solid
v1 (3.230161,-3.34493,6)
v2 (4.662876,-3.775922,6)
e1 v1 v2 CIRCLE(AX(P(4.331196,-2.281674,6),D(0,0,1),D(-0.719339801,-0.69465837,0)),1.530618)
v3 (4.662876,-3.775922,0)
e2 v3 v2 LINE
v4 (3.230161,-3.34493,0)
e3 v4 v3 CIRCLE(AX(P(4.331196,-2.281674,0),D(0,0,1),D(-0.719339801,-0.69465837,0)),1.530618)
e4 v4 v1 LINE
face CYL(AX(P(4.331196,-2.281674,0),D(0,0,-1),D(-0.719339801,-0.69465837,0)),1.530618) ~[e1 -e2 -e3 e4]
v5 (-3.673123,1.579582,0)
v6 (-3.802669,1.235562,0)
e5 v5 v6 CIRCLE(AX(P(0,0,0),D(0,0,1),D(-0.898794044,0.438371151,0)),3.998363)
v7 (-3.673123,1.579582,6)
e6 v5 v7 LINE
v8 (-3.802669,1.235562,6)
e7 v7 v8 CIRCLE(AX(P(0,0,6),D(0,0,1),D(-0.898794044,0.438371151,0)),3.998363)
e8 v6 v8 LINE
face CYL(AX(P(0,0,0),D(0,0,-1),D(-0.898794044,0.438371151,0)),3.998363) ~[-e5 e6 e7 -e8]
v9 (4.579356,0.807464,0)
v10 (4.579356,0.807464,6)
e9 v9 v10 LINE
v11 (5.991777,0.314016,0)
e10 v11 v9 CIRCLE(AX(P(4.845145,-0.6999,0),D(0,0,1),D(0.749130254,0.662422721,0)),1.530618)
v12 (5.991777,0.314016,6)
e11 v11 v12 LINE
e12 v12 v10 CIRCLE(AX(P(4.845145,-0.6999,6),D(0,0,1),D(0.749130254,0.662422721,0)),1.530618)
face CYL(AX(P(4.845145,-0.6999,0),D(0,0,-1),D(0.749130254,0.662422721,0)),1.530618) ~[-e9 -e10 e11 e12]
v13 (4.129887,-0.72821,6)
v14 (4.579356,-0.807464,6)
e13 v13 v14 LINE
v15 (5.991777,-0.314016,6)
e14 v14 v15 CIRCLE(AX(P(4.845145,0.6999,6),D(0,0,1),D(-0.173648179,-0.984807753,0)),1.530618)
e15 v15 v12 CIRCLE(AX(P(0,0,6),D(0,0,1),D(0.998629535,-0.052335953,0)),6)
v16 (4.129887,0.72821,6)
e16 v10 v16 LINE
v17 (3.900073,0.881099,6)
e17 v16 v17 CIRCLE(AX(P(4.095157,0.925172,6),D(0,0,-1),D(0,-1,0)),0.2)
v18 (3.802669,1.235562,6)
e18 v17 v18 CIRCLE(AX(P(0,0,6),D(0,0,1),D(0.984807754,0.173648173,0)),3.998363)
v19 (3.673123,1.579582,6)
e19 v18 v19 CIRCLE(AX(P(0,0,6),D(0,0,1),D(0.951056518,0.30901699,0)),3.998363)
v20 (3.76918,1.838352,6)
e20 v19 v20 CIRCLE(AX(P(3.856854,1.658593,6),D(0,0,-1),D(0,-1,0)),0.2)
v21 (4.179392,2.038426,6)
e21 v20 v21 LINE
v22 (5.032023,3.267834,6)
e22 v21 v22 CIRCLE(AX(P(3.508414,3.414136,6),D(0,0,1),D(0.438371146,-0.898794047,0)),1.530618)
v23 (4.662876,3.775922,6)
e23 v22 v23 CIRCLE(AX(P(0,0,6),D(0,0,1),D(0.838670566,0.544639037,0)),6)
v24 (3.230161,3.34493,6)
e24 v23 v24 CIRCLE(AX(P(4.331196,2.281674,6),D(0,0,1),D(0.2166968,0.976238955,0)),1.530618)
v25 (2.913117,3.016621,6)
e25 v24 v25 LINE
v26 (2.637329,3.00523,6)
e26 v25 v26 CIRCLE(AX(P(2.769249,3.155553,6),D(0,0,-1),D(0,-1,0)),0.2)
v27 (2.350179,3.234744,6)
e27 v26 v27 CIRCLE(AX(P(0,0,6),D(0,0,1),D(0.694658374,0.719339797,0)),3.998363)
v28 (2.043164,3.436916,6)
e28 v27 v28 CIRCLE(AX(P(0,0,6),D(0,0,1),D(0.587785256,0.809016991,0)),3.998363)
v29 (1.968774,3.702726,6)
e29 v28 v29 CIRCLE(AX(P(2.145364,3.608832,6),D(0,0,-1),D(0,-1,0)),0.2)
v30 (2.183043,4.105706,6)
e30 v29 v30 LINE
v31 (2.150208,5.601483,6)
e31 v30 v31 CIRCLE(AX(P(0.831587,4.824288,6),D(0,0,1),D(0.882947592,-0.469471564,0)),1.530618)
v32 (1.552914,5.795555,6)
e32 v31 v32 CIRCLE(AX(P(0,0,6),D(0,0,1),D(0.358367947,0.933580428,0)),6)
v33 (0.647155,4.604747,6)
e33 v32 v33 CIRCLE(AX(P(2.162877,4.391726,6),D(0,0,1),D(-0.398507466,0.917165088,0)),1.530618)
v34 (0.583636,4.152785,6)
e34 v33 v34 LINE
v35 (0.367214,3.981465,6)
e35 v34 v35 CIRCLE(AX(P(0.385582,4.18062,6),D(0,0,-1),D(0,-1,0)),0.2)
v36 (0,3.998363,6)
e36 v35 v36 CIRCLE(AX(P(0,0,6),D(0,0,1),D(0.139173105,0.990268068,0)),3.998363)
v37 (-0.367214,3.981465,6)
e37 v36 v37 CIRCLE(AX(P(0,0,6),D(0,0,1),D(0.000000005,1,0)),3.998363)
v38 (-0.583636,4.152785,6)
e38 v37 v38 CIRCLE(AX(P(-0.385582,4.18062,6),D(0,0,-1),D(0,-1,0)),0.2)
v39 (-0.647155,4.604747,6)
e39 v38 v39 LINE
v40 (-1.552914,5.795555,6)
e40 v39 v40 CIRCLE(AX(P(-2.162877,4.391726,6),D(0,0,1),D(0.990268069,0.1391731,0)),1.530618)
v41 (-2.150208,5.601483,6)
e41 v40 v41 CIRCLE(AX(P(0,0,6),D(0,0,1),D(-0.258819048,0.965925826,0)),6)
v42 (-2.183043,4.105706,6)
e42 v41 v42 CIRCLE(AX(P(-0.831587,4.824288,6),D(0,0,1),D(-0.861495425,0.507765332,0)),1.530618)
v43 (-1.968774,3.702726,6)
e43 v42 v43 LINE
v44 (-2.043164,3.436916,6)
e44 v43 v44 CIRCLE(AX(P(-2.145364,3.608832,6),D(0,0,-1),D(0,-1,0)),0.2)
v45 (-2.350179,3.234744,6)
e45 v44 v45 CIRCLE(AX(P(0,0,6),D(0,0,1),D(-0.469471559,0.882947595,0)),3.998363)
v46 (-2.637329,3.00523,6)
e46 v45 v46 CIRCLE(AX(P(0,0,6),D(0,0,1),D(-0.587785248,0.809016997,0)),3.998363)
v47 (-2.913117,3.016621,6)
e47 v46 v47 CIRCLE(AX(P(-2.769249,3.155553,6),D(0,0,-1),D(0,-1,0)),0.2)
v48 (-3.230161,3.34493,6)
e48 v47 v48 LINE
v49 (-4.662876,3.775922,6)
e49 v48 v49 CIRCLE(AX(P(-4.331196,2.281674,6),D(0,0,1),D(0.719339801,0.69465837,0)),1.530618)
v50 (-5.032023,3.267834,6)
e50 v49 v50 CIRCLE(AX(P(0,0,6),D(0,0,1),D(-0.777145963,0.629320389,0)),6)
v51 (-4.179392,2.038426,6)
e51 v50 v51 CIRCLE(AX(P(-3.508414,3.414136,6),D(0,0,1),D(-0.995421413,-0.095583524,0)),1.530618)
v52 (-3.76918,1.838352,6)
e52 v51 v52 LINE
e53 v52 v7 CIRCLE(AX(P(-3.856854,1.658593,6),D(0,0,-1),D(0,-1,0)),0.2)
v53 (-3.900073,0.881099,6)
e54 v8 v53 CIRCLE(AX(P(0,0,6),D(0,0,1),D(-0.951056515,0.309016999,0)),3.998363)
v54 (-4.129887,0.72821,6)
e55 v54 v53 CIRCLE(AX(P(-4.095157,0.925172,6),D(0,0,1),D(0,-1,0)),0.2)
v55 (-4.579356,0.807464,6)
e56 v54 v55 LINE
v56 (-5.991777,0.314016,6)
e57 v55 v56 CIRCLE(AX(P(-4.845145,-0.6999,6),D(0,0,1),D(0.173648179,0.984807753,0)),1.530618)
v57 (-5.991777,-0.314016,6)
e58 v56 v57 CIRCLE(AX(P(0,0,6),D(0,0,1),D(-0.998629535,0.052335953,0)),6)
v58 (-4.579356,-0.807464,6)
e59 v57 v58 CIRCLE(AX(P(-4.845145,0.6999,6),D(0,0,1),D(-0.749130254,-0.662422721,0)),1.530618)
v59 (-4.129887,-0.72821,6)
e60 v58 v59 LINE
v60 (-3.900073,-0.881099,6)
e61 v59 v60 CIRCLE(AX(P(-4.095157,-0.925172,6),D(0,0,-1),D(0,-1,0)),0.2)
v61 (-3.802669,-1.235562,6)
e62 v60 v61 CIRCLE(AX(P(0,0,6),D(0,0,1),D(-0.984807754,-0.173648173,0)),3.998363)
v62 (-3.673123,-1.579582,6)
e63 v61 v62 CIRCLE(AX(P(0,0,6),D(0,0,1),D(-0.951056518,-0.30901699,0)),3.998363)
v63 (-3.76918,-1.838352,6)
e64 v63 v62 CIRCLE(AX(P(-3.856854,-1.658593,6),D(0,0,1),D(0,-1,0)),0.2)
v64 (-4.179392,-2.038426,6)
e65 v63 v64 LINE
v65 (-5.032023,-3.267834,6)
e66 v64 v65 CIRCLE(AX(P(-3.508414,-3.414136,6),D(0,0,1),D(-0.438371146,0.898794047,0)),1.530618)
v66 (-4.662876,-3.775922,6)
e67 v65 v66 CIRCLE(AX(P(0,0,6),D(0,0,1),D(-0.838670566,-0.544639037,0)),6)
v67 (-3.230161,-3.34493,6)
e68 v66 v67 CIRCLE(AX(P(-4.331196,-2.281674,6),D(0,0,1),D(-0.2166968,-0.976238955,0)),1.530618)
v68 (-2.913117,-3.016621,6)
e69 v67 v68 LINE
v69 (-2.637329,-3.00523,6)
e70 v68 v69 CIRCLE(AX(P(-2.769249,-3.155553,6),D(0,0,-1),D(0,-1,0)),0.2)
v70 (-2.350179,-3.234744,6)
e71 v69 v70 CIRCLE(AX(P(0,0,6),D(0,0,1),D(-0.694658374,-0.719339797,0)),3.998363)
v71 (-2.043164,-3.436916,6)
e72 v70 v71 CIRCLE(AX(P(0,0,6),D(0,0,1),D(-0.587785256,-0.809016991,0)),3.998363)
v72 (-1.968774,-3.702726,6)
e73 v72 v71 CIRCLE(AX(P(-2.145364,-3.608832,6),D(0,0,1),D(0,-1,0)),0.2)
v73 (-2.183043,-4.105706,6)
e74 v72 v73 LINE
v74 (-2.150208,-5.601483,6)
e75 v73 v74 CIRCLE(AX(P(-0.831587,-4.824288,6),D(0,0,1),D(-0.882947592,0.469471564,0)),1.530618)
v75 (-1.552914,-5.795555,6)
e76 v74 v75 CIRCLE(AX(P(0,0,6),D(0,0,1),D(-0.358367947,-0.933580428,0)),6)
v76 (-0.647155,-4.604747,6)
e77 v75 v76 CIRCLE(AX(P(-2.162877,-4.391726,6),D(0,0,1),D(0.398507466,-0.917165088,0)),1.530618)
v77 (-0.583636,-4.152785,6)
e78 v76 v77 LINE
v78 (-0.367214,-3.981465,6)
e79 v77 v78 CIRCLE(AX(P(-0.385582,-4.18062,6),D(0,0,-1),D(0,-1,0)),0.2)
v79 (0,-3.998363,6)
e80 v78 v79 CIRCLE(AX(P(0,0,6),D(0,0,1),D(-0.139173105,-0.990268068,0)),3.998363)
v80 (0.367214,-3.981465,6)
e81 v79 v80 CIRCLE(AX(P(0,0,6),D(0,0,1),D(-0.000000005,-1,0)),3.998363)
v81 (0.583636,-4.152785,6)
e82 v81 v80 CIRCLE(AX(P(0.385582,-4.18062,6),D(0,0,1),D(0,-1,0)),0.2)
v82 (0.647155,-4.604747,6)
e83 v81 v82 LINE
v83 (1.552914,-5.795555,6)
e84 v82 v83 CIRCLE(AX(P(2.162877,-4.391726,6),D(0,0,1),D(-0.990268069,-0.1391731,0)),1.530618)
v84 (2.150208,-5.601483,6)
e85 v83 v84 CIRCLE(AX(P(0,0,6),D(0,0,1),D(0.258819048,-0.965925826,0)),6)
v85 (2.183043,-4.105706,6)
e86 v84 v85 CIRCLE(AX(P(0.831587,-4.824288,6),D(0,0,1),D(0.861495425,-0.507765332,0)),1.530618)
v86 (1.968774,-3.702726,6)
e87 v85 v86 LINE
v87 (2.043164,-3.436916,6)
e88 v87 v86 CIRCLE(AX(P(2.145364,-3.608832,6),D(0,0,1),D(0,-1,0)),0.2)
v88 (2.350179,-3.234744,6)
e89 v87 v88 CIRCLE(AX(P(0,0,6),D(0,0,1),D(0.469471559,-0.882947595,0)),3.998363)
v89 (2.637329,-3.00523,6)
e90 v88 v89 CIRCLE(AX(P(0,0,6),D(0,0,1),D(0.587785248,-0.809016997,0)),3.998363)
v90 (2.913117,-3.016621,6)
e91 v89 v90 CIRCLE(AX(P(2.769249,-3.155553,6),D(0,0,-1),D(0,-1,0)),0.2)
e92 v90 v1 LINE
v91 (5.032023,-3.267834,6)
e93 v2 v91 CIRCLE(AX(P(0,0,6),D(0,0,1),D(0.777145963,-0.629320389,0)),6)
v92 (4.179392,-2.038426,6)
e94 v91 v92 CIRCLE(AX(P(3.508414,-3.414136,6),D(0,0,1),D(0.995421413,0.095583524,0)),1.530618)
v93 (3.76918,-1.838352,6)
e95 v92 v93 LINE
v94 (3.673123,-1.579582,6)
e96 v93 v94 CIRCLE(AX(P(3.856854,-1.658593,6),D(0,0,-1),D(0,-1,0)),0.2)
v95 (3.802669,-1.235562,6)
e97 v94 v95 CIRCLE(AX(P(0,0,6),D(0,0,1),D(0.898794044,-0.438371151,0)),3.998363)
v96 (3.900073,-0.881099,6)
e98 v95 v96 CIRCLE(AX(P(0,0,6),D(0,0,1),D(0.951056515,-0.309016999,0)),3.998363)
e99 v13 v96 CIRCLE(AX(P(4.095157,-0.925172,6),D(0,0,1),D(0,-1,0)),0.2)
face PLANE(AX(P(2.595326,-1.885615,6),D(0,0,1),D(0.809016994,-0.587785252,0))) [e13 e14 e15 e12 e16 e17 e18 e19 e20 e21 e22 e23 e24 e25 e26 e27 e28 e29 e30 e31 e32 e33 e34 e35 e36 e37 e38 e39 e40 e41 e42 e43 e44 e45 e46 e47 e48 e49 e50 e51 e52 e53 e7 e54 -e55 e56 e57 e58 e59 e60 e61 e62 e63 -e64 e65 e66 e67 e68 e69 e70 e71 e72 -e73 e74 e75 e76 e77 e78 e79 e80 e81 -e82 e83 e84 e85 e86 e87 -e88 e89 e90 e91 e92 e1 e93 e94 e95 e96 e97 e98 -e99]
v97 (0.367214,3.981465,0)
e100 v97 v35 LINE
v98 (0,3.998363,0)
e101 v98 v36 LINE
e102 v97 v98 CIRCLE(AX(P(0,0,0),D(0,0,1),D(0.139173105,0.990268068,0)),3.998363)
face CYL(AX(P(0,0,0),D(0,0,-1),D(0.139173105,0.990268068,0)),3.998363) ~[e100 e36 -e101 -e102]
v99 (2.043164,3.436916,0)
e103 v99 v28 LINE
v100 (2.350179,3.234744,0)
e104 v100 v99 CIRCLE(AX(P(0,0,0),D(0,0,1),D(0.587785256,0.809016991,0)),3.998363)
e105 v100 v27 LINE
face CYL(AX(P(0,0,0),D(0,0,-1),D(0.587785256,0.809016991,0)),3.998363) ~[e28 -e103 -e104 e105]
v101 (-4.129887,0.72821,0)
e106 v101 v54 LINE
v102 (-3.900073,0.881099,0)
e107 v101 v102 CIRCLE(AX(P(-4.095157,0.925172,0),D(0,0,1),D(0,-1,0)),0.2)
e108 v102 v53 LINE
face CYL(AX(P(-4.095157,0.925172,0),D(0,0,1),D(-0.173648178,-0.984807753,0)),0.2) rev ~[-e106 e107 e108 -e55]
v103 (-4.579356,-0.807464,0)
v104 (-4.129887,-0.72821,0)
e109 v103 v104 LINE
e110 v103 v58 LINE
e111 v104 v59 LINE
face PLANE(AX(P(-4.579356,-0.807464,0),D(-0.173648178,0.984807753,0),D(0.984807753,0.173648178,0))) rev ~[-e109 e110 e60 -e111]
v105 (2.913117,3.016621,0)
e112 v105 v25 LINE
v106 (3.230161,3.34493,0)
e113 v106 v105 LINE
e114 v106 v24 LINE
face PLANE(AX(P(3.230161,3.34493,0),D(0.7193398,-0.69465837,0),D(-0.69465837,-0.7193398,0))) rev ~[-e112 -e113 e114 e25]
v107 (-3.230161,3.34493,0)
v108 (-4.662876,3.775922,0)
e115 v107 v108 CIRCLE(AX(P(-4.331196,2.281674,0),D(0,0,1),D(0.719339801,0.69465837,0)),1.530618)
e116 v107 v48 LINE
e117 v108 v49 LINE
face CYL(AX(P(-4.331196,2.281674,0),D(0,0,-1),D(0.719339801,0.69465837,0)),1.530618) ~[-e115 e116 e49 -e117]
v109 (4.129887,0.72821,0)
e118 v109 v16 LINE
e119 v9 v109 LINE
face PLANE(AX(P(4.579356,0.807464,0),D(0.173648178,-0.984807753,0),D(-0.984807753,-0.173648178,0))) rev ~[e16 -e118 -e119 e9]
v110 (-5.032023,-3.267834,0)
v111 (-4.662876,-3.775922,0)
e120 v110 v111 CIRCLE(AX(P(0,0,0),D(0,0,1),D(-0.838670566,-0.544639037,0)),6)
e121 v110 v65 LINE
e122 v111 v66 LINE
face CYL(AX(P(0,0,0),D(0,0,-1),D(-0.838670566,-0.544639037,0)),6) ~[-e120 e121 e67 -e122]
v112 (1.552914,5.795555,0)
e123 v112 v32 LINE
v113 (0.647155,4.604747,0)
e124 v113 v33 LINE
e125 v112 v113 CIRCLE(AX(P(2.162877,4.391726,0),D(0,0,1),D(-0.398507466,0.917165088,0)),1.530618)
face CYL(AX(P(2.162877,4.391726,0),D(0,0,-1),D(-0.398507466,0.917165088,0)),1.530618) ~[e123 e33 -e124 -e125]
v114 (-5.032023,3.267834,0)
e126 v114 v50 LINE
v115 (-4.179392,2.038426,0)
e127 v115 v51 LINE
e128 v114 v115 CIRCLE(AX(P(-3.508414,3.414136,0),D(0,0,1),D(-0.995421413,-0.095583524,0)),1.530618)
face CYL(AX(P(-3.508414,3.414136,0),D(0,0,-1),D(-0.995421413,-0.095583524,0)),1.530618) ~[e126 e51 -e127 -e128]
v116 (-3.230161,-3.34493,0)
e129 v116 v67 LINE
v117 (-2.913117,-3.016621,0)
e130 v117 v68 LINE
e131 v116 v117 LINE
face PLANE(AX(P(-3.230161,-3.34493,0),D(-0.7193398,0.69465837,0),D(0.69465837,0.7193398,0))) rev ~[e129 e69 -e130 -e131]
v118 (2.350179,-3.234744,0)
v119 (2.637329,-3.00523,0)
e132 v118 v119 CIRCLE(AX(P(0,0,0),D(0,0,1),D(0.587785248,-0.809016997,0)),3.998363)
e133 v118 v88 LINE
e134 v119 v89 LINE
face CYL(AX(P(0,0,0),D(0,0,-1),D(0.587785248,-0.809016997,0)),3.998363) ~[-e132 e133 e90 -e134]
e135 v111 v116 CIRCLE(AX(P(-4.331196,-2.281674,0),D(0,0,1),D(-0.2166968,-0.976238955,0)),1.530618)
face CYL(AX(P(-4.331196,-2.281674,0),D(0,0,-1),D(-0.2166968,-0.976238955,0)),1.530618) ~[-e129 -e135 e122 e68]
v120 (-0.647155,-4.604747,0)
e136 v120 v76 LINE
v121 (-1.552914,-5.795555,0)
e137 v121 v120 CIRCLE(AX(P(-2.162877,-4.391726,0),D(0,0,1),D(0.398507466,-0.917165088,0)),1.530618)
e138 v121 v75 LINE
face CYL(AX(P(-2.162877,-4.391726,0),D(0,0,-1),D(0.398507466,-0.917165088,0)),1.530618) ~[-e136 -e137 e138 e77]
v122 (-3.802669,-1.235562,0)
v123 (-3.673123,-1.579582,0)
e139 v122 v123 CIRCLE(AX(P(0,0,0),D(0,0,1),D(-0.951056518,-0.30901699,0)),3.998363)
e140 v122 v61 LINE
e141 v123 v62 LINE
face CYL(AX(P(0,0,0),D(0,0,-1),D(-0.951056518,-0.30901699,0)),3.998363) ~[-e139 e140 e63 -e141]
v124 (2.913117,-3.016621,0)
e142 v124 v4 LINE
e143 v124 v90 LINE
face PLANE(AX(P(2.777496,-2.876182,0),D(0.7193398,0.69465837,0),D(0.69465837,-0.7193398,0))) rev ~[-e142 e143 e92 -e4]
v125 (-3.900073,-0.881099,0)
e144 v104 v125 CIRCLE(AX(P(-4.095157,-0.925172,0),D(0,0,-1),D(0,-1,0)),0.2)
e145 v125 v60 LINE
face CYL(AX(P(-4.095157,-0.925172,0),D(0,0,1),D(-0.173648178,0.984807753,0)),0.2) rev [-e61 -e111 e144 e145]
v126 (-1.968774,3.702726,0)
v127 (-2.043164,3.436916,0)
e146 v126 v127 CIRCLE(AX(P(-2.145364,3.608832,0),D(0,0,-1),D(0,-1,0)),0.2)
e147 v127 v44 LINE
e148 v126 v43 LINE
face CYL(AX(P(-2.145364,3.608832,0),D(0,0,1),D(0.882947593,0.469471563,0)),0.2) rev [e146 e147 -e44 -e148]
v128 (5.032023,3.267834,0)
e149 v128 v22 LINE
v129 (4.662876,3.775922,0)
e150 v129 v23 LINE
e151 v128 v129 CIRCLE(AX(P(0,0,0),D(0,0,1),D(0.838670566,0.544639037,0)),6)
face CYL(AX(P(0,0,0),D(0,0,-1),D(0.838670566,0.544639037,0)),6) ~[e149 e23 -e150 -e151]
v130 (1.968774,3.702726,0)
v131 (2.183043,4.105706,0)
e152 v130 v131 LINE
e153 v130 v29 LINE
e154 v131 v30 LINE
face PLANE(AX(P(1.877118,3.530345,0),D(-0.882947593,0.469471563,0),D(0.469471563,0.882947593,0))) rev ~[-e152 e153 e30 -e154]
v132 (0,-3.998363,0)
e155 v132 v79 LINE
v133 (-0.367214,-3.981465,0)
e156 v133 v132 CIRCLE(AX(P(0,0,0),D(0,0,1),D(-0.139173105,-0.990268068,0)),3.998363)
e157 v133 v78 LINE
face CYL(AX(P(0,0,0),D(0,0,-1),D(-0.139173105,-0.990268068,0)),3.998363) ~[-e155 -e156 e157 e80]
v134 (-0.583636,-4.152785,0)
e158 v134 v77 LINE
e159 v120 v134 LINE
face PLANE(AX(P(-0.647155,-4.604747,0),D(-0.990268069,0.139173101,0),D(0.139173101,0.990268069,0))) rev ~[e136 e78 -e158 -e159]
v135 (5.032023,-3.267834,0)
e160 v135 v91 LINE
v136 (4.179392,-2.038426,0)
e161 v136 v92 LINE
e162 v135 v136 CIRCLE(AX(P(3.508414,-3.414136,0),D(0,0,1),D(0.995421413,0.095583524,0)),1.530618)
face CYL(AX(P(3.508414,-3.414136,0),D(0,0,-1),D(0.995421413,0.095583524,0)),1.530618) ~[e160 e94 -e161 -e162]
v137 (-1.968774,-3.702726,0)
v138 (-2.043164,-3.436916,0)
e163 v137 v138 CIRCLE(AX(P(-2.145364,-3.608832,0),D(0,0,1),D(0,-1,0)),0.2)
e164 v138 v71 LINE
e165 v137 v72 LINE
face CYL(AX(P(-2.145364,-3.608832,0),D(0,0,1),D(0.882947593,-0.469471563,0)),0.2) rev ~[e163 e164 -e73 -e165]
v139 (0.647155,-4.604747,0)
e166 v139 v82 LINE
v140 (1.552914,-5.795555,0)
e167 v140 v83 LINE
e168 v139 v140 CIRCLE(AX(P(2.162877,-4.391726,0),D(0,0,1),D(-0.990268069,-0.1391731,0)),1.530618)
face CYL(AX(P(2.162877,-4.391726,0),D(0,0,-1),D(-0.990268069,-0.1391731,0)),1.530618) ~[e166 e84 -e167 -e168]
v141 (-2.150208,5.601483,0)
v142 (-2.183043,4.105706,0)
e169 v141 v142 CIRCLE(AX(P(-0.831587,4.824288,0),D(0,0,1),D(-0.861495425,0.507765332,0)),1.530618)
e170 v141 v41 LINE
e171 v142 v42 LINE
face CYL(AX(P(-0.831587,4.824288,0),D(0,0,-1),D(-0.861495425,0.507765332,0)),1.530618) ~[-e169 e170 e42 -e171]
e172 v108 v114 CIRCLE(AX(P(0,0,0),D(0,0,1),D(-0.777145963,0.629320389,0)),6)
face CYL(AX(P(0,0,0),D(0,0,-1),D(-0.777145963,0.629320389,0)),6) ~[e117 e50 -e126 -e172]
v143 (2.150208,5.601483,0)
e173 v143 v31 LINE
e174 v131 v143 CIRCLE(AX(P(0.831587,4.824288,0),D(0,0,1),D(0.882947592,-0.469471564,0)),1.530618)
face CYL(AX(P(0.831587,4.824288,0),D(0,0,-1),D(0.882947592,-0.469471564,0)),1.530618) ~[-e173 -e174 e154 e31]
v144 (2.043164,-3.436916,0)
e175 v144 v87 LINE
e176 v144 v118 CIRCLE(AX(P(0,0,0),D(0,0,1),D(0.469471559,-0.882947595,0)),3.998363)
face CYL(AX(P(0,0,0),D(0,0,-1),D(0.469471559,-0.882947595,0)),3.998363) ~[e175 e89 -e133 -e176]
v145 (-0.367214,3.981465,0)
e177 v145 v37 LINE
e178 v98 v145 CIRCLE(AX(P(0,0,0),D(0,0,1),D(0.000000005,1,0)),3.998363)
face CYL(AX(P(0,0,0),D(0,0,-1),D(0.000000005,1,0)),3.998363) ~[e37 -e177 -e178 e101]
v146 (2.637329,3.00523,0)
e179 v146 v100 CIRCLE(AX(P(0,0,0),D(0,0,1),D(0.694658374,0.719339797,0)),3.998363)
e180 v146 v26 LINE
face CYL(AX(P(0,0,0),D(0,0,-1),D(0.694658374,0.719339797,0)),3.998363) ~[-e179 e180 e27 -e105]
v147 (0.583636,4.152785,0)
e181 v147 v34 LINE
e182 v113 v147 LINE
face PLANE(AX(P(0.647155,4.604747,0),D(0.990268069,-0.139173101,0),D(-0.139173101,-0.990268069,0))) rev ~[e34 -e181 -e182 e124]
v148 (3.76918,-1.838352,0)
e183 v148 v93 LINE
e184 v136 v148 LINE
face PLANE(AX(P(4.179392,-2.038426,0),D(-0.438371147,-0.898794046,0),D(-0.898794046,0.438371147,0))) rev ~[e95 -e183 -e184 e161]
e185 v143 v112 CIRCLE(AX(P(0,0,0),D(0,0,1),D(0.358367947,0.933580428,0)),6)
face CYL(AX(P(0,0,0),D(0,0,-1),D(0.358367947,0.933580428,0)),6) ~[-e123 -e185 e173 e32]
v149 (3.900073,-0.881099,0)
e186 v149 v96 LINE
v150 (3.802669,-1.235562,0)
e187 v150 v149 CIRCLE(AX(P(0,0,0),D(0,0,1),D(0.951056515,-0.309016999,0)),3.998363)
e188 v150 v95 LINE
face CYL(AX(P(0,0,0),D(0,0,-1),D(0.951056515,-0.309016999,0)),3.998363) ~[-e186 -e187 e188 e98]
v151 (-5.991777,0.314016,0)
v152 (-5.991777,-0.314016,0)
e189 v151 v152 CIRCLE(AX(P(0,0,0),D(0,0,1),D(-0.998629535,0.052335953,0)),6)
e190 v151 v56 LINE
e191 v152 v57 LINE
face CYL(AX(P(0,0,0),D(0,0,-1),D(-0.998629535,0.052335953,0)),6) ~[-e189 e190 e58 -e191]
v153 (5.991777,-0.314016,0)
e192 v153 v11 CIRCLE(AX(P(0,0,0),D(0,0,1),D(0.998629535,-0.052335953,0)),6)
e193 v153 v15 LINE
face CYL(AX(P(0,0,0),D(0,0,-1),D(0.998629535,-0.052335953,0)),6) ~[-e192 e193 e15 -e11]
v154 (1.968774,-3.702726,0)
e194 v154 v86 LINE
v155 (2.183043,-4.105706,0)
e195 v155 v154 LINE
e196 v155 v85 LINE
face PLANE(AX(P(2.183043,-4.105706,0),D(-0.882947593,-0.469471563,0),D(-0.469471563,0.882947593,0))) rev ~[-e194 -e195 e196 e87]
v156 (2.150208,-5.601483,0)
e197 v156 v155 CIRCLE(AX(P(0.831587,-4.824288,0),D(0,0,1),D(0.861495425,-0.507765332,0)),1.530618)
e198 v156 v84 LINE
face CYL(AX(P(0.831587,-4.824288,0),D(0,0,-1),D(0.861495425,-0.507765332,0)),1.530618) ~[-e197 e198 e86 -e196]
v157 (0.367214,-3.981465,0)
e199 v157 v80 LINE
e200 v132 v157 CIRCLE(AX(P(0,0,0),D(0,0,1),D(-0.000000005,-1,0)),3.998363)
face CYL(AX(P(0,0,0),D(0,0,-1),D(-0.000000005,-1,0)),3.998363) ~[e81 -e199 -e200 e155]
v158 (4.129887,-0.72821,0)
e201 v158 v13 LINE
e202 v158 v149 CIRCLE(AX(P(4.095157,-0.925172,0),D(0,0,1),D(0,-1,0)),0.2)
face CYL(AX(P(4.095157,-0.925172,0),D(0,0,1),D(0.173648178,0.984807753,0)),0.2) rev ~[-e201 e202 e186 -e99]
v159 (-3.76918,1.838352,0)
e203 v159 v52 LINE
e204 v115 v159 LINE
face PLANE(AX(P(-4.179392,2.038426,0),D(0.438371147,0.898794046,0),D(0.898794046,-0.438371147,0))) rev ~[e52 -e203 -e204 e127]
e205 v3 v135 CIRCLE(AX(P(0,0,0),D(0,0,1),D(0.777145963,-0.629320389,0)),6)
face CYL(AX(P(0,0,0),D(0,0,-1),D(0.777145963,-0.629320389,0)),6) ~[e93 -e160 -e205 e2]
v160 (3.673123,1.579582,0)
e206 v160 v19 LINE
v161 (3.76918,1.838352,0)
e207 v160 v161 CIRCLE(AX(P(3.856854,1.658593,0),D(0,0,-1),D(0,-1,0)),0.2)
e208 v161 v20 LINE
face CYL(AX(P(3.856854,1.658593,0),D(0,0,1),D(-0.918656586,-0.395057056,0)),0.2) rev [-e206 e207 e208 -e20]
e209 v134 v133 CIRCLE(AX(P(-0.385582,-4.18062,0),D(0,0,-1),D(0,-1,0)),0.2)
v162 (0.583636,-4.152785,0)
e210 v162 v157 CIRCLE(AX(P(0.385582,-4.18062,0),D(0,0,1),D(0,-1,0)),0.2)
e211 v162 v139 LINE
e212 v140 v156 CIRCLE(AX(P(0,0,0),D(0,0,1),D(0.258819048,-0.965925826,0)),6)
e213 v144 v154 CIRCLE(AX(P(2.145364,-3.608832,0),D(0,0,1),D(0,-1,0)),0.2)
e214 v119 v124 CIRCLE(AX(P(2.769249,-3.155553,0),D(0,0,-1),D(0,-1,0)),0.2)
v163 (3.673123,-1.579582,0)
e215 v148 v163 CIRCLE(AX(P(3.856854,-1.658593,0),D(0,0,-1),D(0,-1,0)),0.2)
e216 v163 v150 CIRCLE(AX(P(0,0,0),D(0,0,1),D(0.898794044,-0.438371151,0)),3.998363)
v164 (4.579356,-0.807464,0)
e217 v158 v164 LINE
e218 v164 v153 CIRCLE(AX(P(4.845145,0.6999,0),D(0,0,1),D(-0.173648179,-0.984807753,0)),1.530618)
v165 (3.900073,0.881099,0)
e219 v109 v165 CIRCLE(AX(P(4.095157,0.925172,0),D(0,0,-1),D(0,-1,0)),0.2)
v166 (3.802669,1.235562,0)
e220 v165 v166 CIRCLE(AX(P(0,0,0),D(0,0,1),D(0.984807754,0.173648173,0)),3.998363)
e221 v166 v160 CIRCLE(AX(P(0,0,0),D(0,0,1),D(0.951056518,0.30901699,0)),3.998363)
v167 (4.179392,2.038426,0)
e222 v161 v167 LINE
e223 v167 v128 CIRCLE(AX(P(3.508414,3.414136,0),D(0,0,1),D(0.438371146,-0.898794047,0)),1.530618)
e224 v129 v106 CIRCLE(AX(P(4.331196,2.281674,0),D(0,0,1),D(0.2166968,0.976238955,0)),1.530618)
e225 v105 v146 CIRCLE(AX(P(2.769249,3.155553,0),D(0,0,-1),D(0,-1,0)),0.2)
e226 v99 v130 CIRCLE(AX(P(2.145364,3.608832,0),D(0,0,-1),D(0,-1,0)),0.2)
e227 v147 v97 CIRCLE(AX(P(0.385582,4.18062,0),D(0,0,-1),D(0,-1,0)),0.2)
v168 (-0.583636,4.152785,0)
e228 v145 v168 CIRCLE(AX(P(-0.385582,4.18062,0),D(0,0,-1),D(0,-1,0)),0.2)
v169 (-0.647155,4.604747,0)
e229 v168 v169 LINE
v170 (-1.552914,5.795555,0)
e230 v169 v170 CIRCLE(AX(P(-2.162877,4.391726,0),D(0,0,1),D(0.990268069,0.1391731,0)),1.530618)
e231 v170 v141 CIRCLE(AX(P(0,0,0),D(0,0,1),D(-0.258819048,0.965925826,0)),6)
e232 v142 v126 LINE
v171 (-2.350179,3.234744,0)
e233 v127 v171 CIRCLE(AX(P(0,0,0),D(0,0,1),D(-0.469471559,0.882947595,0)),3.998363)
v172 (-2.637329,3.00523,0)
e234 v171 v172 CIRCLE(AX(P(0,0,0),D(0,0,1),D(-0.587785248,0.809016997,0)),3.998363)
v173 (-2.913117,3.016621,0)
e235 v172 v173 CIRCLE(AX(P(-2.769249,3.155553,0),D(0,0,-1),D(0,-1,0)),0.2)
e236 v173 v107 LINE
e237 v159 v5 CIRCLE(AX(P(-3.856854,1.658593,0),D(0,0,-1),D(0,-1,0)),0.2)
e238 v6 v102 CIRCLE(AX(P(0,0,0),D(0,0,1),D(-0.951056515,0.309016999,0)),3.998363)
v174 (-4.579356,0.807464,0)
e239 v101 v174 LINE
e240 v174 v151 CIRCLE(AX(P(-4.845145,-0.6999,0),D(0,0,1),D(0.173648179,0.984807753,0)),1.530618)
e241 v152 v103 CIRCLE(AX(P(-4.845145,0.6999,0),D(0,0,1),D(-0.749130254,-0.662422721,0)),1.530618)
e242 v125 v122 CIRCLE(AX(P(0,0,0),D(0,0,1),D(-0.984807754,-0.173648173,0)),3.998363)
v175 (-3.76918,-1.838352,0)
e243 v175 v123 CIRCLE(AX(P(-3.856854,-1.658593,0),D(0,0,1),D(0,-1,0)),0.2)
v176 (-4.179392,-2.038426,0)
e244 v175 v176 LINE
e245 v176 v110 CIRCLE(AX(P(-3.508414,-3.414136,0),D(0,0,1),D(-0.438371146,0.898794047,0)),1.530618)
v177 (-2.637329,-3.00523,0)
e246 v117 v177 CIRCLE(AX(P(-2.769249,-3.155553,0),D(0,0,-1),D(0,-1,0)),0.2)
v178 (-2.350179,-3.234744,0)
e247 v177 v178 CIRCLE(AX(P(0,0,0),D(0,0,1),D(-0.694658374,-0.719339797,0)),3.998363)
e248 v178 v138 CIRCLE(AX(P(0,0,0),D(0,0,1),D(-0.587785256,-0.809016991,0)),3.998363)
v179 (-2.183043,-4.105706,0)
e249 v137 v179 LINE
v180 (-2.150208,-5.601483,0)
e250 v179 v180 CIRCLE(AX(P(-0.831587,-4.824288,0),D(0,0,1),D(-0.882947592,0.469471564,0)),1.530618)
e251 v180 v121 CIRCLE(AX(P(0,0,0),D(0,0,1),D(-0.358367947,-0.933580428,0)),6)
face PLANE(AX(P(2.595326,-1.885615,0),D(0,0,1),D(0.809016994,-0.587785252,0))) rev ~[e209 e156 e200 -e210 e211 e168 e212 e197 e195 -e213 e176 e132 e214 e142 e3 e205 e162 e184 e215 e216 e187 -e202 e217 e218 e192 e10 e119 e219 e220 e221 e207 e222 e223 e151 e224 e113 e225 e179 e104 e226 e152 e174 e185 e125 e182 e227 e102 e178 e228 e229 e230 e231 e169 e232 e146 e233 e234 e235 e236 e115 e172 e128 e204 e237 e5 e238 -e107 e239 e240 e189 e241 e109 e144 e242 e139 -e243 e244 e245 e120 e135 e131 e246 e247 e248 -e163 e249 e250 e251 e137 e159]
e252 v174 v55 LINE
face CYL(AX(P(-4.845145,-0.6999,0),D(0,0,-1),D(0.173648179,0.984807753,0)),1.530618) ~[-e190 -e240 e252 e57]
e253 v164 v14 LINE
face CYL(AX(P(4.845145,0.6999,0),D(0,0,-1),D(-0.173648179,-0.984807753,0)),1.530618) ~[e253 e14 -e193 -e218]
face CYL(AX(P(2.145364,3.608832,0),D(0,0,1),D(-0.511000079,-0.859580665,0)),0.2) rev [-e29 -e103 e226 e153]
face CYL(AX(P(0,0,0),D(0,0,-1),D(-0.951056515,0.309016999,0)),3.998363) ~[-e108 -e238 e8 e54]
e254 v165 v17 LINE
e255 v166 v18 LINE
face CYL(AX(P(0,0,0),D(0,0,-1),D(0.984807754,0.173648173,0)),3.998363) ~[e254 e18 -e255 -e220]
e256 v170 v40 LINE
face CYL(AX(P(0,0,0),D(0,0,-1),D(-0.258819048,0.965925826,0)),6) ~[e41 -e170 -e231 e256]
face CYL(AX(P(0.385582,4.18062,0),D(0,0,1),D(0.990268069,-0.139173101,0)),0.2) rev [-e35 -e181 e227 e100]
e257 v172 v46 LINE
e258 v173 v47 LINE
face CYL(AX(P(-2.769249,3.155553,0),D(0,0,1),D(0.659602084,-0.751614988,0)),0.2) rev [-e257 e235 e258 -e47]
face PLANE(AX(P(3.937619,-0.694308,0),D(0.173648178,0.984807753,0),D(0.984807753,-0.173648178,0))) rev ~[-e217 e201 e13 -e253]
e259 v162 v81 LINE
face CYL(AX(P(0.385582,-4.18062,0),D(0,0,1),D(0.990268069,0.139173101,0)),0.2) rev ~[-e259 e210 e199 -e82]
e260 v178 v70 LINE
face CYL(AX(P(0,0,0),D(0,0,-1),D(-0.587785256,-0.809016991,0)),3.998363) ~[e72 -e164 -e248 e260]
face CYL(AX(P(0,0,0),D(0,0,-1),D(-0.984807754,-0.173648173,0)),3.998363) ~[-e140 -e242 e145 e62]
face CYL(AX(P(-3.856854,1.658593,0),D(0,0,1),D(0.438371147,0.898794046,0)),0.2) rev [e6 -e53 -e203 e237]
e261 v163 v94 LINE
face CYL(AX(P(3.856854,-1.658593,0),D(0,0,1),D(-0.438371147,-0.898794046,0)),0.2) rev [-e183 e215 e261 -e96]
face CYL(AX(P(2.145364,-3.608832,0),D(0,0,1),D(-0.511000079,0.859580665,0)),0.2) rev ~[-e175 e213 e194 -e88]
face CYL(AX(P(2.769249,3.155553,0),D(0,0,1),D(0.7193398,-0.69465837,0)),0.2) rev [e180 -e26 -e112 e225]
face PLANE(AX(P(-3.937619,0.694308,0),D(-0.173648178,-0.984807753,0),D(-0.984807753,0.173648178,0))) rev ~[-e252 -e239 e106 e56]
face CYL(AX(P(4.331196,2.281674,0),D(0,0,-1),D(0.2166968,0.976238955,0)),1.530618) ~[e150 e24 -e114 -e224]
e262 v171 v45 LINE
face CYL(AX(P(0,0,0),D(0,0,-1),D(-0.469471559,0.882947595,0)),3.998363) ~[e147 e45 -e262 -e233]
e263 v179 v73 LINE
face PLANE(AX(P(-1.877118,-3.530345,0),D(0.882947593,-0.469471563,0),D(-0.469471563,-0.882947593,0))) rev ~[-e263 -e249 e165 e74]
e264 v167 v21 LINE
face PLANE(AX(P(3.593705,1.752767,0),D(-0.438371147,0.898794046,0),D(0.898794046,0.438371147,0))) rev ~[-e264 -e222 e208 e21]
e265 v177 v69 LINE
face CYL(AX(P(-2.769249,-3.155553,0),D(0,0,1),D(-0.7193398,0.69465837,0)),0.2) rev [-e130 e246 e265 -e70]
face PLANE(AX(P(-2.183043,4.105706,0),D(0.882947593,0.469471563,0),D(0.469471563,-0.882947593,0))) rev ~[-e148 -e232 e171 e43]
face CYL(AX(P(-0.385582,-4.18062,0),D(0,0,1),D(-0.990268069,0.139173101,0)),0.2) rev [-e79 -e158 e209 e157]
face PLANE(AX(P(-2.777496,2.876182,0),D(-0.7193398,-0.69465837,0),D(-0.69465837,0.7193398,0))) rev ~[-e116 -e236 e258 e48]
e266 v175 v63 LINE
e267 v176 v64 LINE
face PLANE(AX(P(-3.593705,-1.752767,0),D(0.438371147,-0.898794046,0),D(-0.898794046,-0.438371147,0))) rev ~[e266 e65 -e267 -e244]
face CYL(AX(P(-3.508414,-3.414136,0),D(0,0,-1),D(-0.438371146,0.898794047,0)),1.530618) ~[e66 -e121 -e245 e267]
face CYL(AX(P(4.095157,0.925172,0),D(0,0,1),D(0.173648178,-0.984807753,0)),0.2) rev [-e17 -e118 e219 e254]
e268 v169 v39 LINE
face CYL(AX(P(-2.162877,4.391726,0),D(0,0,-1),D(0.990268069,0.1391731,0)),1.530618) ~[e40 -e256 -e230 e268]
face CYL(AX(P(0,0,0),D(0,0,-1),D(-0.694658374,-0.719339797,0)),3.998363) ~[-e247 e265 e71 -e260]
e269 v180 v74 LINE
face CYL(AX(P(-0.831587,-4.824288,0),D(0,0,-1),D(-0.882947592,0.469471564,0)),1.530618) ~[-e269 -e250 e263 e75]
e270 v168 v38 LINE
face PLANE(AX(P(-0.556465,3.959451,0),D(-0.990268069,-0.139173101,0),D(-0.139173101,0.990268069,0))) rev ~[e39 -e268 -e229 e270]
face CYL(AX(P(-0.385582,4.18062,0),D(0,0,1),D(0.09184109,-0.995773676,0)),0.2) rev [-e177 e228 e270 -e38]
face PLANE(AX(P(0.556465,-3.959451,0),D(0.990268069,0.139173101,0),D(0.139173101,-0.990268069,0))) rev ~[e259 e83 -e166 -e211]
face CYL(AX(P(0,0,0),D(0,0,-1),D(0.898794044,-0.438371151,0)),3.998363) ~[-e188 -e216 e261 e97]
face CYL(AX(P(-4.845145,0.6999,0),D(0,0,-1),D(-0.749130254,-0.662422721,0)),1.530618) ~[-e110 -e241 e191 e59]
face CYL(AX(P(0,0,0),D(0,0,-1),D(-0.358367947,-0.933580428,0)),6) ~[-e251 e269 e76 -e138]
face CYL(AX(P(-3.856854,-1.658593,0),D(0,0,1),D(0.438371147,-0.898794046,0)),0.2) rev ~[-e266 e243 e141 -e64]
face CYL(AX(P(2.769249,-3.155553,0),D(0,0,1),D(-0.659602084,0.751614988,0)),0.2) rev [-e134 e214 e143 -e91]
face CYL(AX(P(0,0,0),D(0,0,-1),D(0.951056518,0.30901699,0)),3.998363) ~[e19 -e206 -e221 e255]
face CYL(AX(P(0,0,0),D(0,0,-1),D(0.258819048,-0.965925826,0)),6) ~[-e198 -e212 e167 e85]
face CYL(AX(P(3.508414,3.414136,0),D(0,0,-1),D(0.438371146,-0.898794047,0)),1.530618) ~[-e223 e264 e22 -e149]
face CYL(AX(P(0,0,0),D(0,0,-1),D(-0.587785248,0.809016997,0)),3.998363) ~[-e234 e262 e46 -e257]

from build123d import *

# Parameters (mm, degrees)
BOSS_EXTRUDE1_DEPTH      = 6
FILLET3_R                = 0.2
FILLET4_R                = 0.2
CIRPATTERN1_COUNT        = 10
FILLET3_OF_CIRPATTERN1_R = 0.2
FILLET4_OF_CIRPATTERN1_R = 0.2


with BuildPart() as part:
    # Sketch1 → Boss-Extrude1 (new body)
    with BuildSketch(Plane.XY):
        with BuildLine():
            Line((0, 0), (3.80266937, -1.235562177))
            ThreePointArc((3.80266937, -1.235562177), (3.87959472, -0.967291603), (3.937619073, -0.694308482))
            Line((3.937619073, -0.694308482), (4.579356052, -0.807464026))
            ThreePointArc((4.579356052, -0.807464026), (5.349965783, -0.745072725), (5.991777209, -0.314015737))
            ThreePointArc((5.991777209, -0.314015737), (6, 0), (5.991777209, 0.314015737))
            ThreePointArc((5.991777209, 0.314015737), (5.349965783, 0.745072725), (4.579356052, 0.807464026))
            Line((4.579356052, 0.807464026), (3.937619073, 0.694308482))
            ThreePointArc((3.937619073, 0.694308482), (3.87959472, 0.967291603), (3.80266937, 1.235562177))
            Line((3.80266937, 1.235562177), (0, 0))
        make_face()
    boss_extrude1 = extrude(amount=BOSS_EXTRUDE1_DEPTH)

    # Fillet3
    fillet3_edges = [part.edges().sort_by_distance(p)[0] for p in [
        (3.937619073, 0.694308482, 3),
    ]]
    fillet(fillet3_edges, radius=FILLET3_R)

    # Fillet4
    fillet4_edges = [part.edges().sort_by_distance(p)[0] for p in [
        (3.937619073, -0.694308482, 3),
    ]]
    fillet(fillet4_edges, radius=FILLET4_R)

    # CirPattern1: Boss-Extrude1 ×10 about axis
    cirpattern1_axis = Axis((0, 0, 0), (0, 0, 1))
    for i in range(1, CIRPATTERN1_COUNT):
        add(boss_extrude1.rotate(cirpattern1_axis, i * 360 / CIRPATTERN1_COUNT))

    # Fillet3 of CirPattern1
    fillet3_of_cirpattern1_edges = [part.edges().sort_by_distance(p)[0] for p in [
        (2.777496461, 2.876181782, 3),
        (0.556464605, 3.959451399, 3),
        (-1.877117817, 3.530345158, 3),
        (-3.593705034, 1.752767059, 3),
        (-3.937619073, -0.694308482, 3),
        (-2.777496461, -2.876181782, 3),
        (-0.556464605, -3.959451399, 3),
        (1.877117817, -3.530345158, 3),
        (3.593705034, -1.752767059, 3),
    ]]
    fillet(fillet3_of_cirpattern1_edges, radius=FILLET3_OF_CIRPATTERN1_R)

    # Fillet4 of CirPattern1
    fillet4_of_cirpattern1_edges = [part.edges().sort_by_distance(p)[0] for p in [
        (3.593705034, 1.752767059, 3),
        (1.877117817, 3.530345158, 3),
        (-0.556464605, 3.959451399, 3),
        (-2.777496461, 2.876181782, 3),
        (-3.937619073, 0.694308482, 3),
        (-3.593705034, -1.752767059, 3),
        (-1.877117817, -3.530345158, 3),
        (0.556464605, -3.959451399, 3),
        (2.777496461, -2.876181782, 3),
    ]]
    fillet(fillet4_of_cirpattern1_edges, radius=FILLET4_OF_CIRPATTERN1_R)


solid = part.part
